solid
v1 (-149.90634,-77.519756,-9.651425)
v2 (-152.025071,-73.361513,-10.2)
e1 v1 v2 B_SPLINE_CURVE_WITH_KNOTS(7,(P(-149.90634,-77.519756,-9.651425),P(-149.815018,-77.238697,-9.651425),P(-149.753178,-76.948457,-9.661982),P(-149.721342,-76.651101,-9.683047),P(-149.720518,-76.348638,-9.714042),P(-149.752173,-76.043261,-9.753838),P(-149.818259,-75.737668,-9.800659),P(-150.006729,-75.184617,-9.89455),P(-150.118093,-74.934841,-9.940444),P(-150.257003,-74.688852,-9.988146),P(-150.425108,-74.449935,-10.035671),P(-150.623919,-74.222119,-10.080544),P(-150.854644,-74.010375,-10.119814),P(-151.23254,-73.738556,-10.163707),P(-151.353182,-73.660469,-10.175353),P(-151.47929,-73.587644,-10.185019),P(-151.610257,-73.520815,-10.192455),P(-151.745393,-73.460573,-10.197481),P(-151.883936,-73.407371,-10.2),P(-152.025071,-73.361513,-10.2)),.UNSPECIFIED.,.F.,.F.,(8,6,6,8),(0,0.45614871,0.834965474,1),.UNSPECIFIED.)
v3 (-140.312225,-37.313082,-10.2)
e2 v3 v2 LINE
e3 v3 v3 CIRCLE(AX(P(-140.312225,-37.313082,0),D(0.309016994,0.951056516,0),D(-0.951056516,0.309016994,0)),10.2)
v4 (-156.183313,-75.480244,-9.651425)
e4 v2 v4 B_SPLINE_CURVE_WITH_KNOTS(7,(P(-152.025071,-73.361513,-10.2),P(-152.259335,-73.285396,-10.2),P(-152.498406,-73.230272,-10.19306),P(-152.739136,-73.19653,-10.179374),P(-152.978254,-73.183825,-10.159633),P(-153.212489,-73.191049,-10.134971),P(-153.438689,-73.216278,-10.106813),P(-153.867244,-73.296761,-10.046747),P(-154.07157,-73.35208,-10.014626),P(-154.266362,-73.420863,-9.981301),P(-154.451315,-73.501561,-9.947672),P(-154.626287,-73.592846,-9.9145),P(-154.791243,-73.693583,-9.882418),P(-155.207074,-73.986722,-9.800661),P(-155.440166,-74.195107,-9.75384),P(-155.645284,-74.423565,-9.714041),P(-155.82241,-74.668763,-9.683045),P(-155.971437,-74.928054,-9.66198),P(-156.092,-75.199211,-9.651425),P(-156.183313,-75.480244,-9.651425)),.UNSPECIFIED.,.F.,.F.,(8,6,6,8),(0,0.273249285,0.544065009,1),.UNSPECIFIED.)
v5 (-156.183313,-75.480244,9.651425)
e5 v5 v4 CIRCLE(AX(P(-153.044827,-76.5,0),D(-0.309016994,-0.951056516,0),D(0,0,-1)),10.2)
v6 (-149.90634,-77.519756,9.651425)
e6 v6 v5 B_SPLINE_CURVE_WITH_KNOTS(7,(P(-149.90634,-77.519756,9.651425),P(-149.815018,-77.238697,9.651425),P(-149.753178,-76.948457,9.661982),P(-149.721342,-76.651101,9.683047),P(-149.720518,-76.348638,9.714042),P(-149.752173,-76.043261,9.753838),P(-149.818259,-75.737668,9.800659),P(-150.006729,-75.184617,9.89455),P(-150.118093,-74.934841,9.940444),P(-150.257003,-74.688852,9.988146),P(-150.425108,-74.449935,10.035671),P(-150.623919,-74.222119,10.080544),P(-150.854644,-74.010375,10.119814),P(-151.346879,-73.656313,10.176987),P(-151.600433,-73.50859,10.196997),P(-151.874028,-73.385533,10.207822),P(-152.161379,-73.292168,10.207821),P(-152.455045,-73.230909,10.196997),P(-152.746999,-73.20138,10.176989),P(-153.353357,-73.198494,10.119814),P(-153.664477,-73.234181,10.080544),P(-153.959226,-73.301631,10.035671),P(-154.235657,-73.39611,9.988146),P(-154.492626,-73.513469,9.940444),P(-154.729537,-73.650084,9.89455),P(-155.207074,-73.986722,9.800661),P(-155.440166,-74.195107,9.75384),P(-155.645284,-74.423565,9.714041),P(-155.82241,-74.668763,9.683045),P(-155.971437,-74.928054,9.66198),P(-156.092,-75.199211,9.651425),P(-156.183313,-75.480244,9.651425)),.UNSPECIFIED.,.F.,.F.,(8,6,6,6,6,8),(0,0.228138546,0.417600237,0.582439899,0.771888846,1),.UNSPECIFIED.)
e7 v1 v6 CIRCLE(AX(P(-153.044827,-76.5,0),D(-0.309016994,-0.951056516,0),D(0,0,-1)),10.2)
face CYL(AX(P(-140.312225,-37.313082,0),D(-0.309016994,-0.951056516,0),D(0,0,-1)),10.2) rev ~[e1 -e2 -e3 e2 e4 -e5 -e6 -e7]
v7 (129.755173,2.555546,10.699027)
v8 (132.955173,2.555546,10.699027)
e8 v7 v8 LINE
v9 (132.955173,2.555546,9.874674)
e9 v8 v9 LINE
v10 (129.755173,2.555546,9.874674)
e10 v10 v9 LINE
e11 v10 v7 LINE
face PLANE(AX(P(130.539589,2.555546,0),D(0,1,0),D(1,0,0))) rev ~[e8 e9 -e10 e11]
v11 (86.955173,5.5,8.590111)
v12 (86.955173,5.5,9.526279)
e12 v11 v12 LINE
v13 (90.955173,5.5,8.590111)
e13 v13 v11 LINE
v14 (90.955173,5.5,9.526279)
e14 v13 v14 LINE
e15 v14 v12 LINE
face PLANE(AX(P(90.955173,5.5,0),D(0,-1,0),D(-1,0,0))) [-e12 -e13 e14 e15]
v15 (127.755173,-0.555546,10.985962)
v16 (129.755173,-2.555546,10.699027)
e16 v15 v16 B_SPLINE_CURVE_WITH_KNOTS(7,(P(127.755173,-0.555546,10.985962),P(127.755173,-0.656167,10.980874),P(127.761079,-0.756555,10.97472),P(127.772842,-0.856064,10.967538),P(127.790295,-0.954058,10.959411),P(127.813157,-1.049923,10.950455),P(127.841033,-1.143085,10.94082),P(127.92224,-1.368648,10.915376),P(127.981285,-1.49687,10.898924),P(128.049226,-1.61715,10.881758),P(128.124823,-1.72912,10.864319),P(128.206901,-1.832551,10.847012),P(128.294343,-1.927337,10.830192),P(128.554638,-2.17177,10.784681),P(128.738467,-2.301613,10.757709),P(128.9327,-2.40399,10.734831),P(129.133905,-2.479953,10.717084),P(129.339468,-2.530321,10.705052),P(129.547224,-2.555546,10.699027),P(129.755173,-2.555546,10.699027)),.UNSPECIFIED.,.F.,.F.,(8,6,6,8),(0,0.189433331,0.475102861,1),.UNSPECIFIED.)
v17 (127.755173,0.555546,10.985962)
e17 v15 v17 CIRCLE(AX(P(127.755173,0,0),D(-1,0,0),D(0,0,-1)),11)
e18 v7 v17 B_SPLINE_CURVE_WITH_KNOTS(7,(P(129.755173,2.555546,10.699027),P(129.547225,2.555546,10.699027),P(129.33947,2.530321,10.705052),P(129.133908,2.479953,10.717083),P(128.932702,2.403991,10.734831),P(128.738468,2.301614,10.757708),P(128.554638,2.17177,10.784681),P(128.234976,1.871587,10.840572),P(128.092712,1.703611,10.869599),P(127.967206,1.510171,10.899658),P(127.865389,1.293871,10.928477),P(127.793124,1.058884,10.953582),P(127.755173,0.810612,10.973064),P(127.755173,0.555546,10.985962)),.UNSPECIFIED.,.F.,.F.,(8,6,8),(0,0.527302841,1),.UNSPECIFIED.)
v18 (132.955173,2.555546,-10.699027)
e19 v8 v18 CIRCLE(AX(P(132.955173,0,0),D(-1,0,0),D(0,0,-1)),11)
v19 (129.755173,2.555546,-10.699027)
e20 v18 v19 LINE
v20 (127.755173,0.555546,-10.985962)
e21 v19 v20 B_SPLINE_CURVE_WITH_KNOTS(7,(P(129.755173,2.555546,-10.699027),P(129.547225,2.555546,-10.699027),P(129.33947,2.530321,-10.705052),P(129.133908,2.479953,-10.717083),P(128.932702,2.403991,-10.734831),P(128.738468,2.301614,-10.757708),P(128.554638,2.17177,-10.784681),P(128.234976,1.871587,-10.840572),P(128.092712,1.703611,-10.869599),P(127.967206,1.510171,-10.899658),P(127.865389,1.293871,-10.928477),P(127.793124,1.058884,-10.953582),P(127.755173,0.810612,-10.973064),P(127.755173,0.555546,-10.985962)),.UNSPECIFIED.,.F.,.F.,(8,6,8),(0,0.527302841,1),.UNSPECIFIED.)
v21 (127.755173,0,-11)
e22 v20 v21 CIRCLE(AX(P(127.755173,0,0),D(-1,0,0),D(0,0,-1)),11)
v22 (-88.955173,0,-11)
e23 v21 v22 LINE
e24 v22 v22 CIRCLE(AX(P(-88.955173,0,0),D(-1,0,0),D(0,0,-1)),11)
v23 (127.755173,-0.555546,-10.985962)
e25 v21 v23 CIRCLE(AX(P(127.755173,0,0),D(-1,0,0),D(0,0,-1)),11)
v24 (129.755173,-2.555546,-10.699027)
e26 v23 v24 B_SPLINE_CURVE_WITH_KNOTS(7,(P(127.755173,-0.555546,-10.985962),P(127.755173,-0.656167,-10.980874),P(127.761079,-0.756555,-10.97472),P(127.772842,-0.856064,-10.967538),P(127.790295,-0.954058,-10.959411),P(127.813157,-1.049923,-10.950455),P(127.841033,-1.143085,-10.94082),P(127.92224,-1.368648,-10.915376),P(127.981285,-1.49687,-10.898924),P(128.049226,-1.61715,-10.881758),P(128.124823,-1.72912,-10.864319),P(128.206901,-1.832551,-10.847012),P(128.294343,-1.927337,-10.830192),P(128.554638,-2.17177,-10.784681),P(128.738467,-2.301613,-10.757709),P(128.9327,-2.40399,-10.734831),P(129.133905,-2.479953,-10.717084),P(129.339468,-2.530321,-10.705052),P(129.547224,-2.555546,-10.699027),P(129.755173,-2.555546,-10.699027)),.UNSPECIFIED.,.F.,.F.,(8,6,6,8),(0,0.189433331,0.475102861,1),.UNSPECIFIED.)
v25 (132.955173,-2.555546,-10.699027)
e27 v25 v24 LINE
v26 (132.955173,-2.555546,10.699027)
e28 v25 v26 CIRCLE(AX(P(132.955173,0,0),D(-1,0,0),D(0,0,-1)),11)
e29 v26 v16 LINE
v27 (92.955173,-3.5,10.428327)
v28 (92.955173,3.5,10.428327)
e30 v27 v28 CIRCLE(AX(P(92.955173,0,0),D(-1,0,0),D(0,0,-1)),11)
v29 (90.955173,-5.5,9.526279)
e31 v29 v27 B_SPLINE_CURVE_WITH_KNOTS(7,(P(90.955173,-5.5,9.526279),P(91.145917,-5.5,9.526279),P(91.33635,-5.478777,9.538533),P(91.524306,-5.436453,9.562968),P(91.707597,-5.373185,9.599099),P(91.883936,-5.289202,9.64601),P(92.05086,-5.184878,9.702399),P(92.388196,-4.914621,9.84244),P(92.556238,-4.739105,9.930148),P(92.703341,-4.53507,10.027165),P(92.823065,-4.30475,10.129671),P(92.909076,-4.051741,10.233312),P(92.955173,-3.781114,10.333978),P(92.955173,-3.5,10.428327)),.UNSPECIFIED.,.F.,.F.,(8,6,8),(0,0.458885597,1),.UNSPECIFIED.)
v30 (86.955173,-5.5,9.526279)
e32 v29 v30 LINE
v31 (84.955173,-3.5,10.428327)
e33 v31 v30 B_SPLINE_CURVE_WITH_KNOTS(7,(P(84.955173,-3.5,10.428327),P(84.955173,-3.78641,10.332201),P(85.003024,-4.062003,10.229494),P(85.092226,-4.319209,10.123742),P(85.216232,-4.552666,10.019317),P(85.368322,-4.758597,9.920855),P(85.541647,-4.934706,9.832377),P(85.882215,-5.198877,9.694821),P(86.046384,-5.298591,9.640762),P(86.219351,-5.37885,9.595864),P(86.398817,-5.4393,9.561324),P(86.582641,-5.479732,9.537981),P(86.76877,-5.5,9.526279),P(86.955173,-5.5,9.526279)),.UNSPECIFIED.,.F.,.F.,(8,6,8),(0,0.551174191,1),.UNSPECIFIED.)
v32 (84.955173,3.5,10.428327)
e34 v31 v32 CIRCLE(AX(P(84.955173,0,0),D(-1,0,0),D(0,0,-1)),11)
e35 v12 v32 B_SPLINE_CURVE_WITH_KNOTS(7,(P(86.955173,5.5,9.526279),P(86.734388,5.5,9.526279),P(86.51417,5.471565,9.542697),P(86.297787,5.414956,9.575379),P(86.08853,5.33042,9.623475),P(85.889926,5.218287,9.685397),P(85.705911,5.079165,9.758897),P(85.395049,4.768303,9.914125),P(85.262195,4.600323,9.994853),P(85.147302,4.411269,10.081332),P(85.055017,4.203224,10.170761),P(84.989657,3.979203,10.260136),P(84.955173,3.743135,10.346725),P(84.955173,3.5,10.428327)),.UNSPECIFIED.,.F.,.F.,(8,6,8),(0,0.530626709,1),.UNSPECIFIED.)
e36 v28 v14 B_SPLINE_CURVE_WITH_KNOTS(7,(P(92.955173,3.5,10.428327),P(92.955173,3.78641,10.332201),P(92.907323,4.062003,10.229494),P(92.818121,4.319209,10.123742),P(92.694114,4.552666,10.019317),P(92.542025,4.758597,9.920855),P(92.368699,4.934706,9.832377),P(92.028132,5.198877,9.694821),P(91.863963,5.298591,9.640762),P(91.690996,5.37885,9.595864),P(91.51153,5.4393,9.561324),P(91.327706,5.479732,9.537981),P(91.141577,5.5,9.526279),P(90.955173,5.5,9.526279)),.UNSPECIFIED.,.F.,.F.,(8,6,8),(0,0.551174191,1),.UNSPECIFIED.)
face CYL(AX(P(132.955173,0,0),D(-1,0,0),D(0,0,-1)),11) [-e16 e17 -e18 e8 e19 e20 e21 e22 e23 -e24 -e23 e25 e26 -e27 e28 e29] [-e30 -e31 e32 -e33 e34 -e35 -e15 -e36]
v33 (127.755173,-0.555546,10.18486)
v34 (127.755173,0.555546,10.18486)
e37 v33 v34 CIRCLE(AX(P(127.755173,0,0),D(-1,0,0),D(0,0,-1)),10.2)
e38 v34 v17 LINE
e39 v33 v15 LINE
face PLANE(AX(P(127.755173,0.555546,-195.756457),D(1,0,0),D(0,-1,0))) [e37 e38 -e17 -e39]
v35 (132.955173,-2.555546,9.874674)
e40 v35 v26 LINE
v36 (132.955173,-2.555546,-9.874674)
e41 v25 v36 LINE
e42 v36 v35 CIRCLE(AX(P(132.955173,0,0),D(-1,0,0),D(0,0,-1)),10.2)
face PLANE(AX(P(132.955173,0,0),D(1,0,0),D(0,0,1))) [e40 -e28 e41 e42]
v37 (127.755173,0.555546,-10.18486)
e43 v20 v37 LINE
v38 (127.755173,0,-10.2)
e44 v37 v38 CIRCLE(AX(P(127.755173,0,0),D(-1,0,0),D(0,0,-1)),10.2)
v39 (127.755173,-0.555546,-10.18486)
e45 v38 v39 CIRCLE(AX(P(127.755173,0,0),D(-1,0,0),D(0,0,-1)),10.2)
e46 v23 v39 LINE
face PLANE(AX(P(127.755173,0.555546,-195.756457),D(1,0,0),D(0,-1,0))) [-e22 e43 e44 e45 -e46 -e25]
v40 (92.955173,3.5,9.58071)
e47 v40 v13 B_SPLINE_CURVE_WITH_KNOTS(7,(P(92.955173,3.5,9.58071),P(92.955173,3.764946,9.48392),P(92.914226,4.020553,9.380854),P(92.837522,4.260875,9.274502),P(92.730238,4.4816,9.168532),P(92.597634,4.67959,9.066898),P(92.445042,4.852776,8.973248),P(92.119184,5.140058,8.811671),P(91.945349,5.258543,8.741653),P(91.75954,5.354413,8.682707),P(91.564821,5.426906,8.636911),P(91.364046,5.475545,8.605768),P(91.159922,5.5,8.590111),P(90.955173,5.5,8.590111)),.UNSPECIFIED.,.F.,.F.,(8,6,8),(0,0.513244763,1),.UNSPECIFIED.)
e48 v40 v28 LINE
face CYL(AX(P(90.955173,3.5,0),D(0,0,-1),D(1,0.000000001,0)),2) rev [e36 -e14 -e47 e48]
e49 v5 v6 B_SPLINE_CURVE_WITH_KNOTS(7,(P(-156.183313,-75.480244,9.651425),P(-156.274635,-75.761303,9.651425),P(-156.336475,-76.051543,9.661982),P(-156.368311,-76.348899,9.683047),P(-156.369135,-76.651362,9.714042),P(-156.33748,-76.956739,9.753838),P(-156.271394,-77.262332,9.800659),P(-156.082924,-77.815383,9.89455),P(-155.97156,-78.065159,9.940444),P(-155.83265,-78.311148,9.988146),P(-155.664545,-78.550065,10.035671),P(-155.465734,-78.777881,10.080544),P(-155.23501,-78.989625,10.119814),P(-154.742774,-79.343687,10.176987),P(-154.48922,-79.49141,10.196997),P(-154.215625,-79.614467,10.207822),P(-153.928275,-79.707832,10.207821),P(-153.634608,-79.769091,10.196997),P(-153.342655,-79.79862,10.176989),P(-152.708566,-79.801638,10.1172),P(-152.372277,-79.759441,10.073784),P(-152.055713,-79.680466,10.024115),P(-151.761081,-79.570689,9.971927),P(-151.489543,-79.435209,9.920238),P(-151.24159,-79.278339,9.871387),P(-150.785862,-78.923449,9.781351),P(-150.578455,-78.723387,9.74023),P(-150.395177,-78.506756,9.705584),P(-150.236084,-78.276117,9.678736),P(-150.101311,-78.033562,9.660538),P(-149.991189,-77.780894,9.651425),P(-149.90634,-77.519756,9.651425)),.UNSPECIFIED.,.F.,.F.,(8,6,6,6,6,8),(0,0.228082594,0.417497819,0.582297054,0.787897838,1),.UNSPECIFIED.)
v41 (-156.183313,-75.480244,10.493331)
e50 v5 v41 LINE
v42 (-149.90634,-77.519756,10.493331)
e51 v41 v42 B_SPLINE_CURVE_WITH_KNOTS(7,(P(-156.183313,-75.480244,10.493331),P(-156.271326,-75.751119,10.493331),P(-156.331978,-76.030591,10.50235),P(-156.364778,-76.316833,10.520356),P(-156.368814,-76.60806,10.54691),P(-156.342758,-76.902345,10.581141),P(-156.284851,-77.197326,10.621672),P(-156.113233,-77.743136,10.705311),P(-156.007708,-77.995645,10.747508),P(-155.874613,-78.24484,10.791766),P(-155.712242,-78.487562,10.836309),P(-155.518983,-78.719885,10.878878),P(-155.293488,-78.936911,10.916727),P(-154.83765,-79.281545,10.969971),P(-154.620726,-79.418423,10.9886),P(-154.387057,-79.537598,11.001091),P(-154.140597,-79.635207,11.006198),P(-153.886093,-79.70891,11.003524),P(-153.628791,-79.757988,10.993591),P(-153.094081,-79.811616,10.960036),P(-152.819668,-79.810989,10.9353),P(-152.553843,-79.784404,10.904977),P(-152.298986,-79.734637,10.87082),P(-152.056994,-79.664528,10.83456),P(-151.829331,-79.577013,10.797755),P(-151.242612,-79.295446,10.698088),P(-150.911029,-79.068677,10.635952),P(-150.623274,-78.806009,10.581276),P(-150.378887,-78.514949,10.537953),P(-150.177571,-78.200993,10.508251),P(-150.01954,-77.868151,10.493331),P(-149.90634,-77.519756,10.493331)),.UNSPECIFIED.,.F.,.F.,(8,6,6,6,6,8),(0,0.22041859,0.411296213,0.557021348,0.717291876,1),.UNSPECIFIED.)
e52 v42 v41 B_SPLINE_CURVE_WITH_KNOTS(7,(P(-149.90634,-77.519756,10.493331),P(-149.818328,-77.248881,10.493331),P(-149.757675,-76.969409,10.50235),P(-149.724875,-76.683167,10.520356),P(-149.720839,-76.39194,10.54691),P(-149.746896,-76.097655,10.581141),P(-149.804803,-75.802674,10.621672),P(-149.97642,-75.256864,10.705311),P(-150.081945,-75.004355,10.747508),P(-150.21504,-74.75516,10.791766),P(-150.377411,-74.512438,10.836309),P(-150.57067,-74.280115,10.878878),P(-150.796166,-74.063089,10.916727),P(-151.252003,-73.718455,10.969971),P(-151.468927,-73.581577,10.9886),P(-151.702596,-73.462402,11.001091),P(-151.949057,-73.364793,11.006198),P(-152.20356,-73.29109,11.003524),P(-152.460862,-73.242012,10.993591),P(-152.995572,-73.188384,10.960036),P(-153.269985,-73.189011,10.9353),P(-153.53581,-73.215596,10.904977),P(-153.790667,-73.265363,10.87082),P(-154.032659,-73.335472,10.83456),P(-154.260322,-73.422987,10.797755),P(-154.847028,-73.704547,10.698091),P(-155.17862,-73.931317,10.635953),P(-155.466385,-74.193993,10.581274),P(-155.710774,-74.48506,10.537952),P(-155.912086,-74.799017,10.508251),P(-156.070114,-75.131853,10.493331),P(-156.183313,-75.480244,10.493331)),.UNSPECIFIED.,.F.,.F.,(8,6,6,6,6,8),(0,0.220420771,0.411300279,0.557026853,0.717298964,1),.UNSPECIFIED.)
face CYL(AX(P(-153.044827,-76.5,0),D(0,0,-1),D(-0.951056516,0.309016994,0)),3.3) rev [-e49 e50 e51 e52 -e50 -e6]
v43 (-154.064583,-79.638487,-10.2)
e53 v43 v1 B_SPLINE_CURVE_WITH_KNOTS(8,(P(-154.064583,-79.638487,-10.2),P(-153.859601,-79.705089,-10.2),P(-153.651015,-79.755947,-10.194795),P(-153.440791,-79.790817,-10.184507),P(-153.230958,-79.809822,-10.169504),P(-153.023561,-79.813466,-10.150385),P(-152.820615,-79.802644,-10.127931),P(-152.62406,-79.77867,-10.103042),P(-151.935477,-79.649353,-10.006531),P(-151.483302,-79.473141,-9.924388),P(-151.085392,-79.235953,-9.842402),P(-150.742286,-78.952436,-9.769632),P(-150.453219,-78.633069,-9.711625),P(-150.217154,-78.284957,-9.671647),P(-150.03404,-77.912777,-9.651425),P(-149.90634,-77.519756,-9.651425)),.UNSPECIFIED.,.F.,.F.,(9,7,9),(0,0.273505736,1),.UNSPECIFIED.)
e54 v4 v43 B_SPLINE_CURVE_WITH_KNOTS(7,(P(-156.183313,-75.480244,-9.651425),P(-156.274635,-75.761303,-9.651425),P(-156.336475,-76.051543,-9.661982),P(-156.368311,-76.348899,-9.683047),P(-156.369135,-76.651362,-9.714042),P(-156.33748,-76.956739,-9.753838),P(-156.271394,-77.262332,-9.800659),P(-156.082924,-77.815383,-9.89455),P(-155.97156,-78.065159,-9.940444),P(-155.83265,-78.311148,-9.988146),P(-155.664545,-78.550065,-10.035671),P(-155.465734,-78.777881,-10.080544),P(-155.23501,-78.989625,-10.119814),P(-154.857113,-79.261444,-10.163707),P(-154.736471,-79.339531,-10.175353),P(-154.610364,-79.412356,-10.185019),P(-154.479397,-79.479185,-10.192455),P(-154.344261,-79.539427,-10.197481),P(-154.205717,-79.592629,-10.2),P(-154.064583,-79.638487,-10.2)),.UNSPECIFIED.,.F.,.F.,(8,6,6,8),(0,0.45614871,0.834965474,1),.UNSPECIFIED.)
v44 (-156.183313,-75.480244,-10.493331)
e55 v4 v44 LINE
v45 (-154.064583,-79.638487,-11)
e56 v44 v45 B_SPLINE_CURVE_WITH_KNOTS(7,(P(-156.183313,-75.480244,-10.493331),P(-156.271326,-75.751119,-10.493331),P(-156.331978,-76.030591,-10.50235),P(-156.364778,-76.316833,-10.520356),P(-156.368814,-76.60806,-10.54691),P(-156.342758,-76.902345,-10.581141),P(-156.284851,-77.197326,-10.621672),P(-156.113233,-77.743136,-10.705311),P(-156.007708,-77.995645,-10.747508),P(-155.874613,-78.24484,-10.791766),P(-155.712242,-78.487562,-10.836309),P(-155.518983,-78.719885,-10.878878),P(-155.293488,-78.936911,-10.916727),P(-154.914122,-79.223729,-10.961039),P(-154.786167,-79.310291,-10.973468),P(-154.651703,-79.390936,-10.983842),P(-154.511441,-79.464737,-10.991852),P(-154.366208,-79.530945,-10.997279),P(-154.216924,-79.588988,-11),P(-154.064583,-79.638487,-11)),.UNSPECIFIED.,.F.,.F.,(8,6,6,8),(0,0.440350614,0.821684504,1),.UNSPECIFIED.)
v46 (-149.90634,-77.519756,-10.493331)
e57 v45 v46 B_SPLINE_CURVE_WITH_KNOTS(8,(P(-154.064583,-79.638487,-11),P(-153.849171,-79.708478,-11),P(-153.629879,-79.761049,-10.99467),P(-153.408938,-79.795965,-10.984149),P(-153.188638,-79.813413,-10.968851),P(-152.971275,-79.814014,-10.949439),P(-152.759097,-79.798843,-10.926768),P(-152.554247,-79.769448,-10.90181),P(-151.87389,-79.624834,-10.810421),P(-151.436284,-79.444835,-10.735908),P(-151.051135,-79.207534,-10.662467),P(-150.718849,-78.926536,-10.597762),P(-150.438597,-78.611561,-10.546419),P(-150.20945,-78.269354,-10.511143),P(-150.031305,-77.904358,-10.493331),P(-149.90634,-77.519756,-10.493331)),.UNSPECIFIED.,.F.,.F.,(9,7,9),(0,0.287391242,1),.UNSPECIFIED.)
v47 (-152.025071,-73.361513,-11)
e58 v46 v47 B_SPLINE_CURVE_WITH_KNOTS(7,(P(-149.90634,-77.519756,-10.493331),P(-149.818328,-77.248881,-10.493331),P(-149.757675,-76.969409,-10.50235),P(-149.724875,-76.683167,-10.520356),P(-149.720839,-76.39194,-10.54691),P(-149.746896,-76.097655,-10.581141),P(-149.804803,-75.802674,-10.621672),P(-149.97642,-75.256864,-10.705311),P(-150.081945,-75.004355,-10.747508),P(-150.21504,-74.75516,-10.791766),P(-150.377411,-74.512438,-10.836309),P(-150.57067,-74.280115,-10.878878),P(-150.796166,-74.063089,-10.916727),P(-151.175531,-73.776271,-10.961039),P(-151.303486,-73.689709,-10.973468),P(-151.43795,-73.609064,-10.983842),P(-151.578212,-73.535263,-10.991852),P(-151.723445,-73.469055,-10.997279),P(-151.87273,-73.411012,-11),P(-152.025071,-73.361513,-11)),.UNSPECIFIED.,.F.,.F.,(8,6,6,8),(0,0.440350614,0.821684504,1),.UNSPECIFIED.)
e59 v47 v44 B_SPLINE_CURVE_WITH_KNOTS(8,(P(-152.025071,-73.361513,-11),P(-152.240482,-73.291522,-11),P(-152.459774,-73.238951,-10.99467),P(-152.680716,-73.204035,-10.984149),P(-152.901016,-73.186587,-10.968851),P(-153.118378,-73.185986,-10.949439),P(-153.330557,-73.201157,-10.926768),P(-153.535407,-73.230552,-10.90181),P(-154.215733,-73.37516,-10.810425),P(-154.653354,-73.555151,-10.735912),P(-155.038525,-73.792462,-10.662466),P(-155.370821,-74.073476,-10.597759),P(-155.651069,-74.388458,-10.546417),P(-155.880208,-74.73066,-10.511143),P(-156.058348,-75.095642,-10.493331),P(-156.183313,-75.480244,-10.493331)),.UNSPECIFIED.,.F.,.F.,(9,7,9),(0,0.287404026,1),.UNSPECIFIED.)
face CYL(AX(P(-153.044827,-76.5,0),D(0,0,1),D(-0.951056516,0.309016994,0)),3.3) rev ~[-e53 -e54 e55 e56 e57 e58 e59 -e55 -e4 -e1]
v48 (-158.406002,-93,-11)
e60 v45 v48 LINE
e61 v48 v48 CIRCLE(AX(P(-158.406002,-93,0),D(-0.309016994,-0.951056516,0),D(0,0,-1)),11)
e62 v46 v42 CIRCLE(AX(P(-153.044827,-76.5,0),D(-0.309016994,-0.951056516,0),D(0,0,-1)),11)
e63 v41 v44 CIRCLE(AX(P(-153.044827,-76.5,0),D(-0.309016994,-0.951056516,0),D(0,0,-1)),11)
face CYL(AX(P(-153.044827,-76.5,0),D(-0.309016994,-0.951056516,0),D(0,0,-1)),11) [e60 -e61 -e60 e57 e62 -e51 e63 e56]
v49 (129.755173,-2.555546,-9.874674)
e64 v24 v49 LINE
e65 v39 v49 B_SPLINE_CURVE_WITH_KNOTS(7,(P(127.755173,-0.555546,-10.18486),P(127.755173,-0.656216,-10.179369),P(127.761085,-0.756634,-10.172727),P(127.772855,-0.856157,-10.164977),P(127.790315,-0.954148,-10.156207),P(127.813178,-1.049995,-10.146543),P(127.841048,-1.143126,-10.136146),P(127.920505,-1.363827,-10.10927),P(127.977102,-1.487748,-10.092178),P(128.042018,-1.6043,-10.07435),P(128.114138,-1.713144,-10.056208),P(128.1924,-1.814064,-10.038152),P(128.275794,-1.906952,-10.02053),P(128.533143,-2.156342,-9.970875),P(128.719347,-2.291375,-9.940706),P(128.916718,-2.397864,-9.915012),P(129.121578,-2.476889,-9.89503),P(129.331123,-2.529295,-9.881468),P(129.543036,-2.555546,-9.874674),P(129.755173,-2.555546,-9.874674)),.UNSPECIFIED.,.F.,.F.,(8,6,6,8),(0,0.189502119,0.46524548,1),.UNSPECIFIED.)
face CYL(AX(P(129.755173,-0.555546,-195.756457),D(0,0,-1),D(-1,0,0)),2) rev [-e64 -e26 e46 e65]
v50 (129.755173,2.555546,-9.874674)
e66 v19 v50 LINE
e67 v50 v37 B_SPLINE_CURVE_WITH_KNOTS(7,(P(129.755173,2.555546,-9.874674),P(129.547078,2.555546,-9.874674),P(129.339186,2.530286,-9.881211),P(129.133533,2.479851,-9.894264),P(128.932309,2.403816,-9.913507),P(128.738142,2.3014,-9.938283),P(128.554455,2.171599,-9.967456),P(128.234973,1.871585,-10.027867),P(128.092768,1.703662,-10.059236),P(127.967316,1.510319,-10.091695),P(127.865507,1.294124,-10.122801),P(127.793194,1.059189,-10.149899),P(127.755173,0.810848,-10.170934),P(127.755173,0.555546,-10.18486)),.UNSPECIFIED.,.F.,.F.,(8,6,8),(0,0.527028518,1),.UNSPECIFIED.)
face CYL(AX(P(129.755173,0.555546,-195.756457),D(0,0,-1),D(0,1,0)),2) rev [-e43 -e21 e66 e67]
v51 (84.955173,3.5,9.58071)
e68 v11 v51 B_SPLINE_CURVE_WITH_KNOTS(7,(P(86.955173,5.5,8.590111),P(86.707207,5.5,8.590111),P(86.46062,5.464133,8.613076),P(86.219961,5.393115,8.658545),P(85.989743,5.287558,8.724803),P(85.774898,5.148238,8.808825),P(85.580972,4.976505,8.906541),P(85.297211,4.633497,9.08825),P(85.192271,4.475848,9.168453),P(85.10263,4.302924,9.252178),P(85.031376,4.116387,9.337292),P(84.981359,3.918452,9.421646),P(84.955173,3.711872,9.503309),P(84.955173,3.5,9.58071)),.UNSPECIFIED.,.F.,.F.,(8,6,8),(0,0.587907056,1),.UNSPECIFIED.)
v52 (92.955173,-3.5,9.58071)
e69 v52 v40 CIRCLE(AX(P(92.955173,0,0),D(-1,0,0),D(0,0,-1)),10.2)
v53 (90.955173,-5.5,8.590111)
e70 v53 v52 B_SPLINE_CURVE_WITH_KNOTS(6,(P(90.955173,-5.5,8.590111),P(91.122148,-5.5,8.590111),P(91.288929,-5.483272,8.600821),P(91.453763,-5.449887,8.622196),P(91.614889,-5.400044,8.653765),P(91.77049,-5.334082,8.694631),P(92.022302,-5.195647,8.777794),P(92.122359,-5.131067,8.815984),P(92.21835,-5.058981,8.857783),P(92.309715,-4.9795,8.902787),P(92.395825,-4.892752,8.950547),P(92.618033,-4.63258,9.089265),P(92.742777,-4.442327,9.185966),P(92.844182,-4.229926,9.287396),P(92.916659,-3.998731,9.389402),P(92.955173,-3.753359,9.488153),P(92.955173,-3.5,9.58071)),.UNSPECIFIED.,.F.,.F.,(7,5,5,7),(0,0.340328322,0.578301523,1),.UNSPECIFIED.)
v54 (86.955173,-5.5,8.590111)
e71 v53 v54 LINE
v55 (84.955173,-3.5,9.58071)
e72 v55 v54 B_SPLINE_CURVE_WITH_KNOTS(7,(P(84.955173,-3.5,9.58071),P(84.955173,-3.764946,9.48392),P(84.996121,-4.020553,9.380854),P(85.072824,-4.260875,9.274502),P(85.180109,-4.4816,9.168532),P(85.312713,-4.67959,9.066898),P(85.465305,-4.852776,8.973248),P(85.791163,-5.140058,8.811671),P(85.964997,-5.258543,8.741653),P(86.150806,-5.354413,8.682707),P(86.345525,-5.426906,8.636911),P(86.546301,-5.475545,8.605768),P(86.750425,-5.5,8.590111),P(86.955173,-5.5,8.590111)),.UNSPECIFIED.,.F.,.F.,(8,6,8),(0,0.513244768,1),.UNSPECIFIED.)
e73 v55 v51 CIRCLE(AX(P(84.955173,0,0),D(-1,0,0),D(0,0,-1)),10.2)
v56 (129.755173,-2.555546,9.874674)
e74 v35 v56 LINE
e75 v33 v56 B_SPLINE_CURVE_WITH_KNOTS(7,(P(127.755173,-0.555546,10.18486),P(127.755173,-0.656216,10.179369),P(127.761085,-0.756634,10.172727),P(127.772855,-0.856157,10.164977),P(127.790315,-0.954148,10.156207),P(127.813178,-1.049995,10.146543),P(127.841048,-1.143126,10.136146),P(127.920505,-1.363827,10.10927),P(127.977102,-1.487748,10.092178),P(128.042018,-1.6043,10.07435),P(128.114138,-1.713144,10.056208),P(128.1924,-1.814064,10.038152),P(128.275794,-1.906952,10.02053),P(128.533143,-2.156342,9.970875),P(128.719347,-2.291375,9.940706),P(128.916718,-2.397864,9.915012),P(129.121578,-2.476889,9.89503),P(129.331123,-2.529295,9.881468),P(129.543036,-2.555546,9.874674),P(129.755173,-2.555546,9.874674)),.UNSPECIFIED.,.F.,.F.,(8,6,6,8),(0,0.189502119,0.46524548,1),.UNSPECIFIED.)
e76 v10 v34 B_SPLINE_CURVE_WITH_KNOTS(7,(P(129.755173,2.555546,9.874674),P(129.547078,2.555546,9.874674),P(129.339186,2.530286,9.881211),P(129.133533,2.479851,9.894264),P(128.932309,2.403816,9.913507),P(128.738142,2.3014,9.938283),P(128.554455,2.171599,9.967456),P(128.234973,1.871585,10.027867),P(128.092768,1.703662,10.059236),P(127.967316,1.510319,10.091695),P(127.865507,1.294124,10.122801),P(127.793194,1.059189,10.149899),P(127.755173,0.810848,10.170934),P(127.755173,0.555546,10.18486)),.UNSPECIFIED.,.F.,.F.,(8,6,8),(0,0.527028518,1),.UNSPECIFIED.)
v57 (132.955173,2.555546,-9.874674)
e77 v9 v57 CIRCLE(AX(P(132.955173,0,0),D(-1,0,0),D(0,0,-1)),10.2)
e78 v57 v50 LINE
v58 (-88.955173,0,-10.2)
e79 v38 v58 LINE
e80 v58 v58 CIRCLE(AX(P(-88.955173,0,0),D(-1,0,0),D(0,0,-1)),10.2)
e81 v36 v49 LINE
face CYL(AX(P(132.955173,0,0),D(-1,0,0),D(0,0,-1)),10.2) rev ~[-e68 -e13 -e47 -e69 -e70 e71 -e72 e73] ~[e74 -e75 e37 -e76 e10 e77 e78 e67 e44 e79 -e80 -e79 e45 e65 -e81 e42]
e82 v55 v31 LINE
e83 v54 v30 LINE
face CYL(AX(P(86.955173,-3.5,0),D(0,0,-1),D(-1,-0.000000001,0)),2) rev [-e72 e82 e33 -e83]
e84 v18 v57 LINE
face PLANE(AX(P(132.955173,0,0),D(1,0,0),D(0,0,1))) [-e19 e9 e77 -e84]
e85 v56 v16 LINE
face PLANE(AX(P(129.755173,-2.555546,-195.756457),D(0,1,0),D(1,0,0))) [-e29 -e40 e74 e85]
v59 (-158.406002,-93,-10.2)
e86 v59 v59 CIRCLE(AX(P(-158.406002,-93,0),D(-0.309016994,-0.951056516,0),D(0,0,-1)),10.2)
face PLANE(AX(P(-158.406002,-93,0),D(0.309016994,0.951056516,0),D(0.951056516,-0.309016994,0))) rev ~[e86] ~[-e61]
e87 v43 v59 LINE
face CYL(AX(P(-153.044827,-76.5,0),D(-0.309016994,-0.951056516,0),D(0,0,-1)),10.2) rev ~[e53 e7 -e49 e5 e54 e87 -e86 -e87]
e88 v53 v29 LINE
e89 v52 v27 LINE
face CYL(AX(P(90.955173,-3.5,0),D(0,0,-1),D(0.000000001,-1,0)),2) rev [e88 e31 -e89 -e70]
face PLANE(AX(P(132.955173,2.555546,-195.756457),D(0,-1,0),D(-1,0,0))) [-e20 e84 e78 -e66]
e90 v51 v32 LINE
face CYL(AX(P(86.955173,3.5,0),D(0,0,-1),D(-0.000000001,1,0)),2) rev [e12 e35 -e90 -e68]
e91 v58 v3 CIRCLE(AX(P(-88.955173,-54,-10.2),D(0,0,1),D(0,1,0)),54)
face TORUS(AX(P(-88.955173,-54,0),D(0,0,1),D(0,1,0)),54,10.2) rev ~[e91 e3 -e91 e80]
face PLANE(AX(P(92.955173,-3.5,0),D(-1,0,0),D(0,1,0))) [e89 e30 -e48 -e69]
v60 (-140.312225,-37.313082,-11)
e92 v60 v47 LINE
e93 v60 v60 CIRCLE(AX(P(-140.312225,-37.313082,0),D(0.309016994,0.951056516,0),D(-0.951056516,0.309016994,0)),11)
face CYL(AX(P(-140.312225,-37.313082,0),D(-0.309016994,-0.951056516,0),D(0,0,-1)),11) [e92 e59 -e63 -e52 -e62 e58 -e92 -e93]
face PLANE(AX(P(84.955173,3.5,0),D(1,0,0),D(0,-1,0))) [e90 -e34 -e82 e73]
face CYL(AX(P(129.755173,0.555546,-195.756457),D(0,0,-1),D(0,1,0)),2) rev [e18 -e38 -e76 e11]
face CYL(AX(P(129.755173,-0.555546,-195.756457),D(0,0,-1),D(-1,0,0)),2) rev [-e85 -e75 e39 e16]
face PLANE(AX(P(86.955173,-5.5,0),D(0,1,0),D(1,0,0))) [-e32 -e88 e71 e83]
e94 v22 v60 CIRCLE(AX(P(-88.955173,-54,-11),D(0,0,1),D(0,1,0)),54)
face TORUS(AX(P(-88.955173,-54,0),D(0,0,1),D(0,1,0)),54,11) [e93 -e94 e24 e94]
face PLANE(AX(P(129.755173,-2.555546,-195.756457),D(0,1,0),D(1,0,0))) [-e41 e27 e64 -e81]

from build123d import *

# Parameters (mm, degrees)
SKETCH3_R               = 11
SKETCH3_R_2             = 10.2
CUT_EXTRUDE1_REACH      = 196.756
SKETCH4_R               = 3.3
SKETCH5_R               = 3.3
CUT_EXTRUDE2_DEPTH      = 195.756456884
CUT_EXTRUDE3_DEPTH      = 195.756456884
CUT_EXTRUDE3_DEPTH_BACK = 195.756456884


with BuildPart() as part:
    # Sweep2: sweep along a path in Sketch1
    with BuildLine(Plane.XY) as sweep2_path:
        Line((132.955173363, 0), (88.955173363, 0))
        Line((88.955173363, 0), (-88.955173363, 0))
        ThreePointArc((-88.955173363, 0), (-120.695576987, -10.313082304), (-140.312225243, -37.313082304))
        Line((-140.312225243, -37.313082304), (-153.044826637, -76.5))
        Line((-153.044826637, -76.5), (-158.406001625, -93))
    # Sketch3 → Sweep2 (sweep)
    with BuildSketch(Plane(origin=(88.955173363, 0, 0), x_dir=(0, 0, -1), z_dir=(1, 0, 0))):
        Circle(SKETCH3_R)
        Circle(SKETCH3_R_2, mode=Mode.SUBTRACT)
    sweep(path=sweep2_path.line)

    # Sketch4 → Cut-Extrude1 (cut, up to next)
    with BuildSketch(Plane.XY, mode=Mode.PRIVATE) as cut_extrude1_sk1:
        with Locations((-153.044826637, -76.5)):
            Circle(SKETCH4_R)
    cut_extrude1_tool1 = extrude(cut_extrude1_sk1.sketch, amount=CUT_EXTRUDE1_REACH, mode=Mode.PRIVATE) & part.part
    # Sketch4 → Cut-Extrude1 (cut, up to next)
    with BuildSketch(Plane.XY, mode=Mode.PRIVATE) as cut_extrude1_sk2:
        with BuildLine():
            Line((133.739588828, 2.555545653), (133.739588828, -2.555545653))
            Line((133.739588828, -2.555545653), (130.539588828, -2.555545653))
            ThreePointArc((130.539588828, -2.555545653), (129.125375266, -1.969759216), (128.539588828, -0.555545653))
            Line((128.539588828, -0.555545653), (128.539588828, 0.555545653))
            ThreePointArc((128.539588828, 0.555545653), (129.125375266, 1.969759216), (130.539588828, 2.555545653))
            Line((130.539588828, 2.555545653), (133.739588828, 2.555545653))
        make_face()
    cut_extrude1_tool2 = extrude(cut_extrude1_sk2.sketch, amount=CUT_EXTRUDE1_REACH, mode=Mode.PRIVATE) & part.part
    # Sketch4 → Cut-Extrude1 (cut, up to next)
    with BuildSketch(Plane.XY, mode=Mode.PRIVATE) as cut_extrude1_sk3:
        with BuildLine():
            Line((86.955173363, -5.5), (90.955173363, -5.5))
            ThreePointArc((90.955173363, -5.5), (92.369386925, -4.914213562), (92.955173363, -3.5))
            Line((92.955173363, -3.5), (92.955173363, 3.5))
            ThreePointArc((92.955173363, 3.5), (92.369386925, 4.914213562), (90.955173363, 5.5))
            Line((90.955173363, 5.5), (86.955173363, 5.5))
            ThreePointArc((86.955173363, 5.5), (85.540959801, 4.914213562), (84.955173363, 3.5))
            Line((84.955173363, 3.5), (84.955173363, -3.5))
            ThreePointArc((84.955173363, -3.5), (85.540959801, -4.914213562), (86.955173363, -5.5))
        make_face()
    cut_extrude1_tool3 = extrude(cut_extrude1_sk3.sketch, amount=CUT_EXTRUDE1_REACH, mode=Mode.PRIVATE) & part.part
    add(cut_extrude1_tool1.solids().sort_by_distance((-153.044827, -76.5, 0))[0], mode=Mode.SUBTRACT)
    add(cut_extrude1_tool2.solids().sort_by_distance((131.288287, 0, 0))[0], mode=Mode.SUBTRACT)
    add(cut_extrude1_tool3.solids().sort_by_distance((88.955173, 0, 0))[0], mode=Mode.SUBTRACT)

    # Sketch5 → Cut-Extrude2 (cut, through all)
    with BuildSketch(Plane.XY):
        with Locations((-153.044826637, -76.5)):
            Circle(SKETCH5_R)
    extrude(amount=-CUT_EXTRUDE2_DEPTH, mode=Mode.SUBTRACT)

    # Sketch6 → Cut-Extrude3 (cut, two sides: drawn at the far end of the back side and taken through both)
    with BuildSketch(Plane.XY.offset(-CUT_EXTRUDE3_DEPTH_BACK)):
        with BuildLine():
            Line((132.955173363, 2.555545653), (129.755173363, 2.555545653))
            ThreePointArc((129.755173363, 2.555545653), (128.340959801, 1.969759216), (127.755173363, 0.555545653))
            Line((127.755173363, 0.555545653), (127.755173363, -0.555545653))
            ThreePointArc((127.755173363, -0.555545653), (128.340959801, -1.969759216), (129.755173363, -2.555545653))
            Line((129.755173363, -2.555545653), (132.955173363, -2.555545653))
            Line((132.955173363, -2.555545653), (132.955173363, 2.555545653))
        make_face()
    extrude(amount=CUT_EXTRUDE3_DEPTH + CUT_EXTRUDE3_DEPTH_BACK, mode=Mode.SUBTRACT)


solid = part.part
